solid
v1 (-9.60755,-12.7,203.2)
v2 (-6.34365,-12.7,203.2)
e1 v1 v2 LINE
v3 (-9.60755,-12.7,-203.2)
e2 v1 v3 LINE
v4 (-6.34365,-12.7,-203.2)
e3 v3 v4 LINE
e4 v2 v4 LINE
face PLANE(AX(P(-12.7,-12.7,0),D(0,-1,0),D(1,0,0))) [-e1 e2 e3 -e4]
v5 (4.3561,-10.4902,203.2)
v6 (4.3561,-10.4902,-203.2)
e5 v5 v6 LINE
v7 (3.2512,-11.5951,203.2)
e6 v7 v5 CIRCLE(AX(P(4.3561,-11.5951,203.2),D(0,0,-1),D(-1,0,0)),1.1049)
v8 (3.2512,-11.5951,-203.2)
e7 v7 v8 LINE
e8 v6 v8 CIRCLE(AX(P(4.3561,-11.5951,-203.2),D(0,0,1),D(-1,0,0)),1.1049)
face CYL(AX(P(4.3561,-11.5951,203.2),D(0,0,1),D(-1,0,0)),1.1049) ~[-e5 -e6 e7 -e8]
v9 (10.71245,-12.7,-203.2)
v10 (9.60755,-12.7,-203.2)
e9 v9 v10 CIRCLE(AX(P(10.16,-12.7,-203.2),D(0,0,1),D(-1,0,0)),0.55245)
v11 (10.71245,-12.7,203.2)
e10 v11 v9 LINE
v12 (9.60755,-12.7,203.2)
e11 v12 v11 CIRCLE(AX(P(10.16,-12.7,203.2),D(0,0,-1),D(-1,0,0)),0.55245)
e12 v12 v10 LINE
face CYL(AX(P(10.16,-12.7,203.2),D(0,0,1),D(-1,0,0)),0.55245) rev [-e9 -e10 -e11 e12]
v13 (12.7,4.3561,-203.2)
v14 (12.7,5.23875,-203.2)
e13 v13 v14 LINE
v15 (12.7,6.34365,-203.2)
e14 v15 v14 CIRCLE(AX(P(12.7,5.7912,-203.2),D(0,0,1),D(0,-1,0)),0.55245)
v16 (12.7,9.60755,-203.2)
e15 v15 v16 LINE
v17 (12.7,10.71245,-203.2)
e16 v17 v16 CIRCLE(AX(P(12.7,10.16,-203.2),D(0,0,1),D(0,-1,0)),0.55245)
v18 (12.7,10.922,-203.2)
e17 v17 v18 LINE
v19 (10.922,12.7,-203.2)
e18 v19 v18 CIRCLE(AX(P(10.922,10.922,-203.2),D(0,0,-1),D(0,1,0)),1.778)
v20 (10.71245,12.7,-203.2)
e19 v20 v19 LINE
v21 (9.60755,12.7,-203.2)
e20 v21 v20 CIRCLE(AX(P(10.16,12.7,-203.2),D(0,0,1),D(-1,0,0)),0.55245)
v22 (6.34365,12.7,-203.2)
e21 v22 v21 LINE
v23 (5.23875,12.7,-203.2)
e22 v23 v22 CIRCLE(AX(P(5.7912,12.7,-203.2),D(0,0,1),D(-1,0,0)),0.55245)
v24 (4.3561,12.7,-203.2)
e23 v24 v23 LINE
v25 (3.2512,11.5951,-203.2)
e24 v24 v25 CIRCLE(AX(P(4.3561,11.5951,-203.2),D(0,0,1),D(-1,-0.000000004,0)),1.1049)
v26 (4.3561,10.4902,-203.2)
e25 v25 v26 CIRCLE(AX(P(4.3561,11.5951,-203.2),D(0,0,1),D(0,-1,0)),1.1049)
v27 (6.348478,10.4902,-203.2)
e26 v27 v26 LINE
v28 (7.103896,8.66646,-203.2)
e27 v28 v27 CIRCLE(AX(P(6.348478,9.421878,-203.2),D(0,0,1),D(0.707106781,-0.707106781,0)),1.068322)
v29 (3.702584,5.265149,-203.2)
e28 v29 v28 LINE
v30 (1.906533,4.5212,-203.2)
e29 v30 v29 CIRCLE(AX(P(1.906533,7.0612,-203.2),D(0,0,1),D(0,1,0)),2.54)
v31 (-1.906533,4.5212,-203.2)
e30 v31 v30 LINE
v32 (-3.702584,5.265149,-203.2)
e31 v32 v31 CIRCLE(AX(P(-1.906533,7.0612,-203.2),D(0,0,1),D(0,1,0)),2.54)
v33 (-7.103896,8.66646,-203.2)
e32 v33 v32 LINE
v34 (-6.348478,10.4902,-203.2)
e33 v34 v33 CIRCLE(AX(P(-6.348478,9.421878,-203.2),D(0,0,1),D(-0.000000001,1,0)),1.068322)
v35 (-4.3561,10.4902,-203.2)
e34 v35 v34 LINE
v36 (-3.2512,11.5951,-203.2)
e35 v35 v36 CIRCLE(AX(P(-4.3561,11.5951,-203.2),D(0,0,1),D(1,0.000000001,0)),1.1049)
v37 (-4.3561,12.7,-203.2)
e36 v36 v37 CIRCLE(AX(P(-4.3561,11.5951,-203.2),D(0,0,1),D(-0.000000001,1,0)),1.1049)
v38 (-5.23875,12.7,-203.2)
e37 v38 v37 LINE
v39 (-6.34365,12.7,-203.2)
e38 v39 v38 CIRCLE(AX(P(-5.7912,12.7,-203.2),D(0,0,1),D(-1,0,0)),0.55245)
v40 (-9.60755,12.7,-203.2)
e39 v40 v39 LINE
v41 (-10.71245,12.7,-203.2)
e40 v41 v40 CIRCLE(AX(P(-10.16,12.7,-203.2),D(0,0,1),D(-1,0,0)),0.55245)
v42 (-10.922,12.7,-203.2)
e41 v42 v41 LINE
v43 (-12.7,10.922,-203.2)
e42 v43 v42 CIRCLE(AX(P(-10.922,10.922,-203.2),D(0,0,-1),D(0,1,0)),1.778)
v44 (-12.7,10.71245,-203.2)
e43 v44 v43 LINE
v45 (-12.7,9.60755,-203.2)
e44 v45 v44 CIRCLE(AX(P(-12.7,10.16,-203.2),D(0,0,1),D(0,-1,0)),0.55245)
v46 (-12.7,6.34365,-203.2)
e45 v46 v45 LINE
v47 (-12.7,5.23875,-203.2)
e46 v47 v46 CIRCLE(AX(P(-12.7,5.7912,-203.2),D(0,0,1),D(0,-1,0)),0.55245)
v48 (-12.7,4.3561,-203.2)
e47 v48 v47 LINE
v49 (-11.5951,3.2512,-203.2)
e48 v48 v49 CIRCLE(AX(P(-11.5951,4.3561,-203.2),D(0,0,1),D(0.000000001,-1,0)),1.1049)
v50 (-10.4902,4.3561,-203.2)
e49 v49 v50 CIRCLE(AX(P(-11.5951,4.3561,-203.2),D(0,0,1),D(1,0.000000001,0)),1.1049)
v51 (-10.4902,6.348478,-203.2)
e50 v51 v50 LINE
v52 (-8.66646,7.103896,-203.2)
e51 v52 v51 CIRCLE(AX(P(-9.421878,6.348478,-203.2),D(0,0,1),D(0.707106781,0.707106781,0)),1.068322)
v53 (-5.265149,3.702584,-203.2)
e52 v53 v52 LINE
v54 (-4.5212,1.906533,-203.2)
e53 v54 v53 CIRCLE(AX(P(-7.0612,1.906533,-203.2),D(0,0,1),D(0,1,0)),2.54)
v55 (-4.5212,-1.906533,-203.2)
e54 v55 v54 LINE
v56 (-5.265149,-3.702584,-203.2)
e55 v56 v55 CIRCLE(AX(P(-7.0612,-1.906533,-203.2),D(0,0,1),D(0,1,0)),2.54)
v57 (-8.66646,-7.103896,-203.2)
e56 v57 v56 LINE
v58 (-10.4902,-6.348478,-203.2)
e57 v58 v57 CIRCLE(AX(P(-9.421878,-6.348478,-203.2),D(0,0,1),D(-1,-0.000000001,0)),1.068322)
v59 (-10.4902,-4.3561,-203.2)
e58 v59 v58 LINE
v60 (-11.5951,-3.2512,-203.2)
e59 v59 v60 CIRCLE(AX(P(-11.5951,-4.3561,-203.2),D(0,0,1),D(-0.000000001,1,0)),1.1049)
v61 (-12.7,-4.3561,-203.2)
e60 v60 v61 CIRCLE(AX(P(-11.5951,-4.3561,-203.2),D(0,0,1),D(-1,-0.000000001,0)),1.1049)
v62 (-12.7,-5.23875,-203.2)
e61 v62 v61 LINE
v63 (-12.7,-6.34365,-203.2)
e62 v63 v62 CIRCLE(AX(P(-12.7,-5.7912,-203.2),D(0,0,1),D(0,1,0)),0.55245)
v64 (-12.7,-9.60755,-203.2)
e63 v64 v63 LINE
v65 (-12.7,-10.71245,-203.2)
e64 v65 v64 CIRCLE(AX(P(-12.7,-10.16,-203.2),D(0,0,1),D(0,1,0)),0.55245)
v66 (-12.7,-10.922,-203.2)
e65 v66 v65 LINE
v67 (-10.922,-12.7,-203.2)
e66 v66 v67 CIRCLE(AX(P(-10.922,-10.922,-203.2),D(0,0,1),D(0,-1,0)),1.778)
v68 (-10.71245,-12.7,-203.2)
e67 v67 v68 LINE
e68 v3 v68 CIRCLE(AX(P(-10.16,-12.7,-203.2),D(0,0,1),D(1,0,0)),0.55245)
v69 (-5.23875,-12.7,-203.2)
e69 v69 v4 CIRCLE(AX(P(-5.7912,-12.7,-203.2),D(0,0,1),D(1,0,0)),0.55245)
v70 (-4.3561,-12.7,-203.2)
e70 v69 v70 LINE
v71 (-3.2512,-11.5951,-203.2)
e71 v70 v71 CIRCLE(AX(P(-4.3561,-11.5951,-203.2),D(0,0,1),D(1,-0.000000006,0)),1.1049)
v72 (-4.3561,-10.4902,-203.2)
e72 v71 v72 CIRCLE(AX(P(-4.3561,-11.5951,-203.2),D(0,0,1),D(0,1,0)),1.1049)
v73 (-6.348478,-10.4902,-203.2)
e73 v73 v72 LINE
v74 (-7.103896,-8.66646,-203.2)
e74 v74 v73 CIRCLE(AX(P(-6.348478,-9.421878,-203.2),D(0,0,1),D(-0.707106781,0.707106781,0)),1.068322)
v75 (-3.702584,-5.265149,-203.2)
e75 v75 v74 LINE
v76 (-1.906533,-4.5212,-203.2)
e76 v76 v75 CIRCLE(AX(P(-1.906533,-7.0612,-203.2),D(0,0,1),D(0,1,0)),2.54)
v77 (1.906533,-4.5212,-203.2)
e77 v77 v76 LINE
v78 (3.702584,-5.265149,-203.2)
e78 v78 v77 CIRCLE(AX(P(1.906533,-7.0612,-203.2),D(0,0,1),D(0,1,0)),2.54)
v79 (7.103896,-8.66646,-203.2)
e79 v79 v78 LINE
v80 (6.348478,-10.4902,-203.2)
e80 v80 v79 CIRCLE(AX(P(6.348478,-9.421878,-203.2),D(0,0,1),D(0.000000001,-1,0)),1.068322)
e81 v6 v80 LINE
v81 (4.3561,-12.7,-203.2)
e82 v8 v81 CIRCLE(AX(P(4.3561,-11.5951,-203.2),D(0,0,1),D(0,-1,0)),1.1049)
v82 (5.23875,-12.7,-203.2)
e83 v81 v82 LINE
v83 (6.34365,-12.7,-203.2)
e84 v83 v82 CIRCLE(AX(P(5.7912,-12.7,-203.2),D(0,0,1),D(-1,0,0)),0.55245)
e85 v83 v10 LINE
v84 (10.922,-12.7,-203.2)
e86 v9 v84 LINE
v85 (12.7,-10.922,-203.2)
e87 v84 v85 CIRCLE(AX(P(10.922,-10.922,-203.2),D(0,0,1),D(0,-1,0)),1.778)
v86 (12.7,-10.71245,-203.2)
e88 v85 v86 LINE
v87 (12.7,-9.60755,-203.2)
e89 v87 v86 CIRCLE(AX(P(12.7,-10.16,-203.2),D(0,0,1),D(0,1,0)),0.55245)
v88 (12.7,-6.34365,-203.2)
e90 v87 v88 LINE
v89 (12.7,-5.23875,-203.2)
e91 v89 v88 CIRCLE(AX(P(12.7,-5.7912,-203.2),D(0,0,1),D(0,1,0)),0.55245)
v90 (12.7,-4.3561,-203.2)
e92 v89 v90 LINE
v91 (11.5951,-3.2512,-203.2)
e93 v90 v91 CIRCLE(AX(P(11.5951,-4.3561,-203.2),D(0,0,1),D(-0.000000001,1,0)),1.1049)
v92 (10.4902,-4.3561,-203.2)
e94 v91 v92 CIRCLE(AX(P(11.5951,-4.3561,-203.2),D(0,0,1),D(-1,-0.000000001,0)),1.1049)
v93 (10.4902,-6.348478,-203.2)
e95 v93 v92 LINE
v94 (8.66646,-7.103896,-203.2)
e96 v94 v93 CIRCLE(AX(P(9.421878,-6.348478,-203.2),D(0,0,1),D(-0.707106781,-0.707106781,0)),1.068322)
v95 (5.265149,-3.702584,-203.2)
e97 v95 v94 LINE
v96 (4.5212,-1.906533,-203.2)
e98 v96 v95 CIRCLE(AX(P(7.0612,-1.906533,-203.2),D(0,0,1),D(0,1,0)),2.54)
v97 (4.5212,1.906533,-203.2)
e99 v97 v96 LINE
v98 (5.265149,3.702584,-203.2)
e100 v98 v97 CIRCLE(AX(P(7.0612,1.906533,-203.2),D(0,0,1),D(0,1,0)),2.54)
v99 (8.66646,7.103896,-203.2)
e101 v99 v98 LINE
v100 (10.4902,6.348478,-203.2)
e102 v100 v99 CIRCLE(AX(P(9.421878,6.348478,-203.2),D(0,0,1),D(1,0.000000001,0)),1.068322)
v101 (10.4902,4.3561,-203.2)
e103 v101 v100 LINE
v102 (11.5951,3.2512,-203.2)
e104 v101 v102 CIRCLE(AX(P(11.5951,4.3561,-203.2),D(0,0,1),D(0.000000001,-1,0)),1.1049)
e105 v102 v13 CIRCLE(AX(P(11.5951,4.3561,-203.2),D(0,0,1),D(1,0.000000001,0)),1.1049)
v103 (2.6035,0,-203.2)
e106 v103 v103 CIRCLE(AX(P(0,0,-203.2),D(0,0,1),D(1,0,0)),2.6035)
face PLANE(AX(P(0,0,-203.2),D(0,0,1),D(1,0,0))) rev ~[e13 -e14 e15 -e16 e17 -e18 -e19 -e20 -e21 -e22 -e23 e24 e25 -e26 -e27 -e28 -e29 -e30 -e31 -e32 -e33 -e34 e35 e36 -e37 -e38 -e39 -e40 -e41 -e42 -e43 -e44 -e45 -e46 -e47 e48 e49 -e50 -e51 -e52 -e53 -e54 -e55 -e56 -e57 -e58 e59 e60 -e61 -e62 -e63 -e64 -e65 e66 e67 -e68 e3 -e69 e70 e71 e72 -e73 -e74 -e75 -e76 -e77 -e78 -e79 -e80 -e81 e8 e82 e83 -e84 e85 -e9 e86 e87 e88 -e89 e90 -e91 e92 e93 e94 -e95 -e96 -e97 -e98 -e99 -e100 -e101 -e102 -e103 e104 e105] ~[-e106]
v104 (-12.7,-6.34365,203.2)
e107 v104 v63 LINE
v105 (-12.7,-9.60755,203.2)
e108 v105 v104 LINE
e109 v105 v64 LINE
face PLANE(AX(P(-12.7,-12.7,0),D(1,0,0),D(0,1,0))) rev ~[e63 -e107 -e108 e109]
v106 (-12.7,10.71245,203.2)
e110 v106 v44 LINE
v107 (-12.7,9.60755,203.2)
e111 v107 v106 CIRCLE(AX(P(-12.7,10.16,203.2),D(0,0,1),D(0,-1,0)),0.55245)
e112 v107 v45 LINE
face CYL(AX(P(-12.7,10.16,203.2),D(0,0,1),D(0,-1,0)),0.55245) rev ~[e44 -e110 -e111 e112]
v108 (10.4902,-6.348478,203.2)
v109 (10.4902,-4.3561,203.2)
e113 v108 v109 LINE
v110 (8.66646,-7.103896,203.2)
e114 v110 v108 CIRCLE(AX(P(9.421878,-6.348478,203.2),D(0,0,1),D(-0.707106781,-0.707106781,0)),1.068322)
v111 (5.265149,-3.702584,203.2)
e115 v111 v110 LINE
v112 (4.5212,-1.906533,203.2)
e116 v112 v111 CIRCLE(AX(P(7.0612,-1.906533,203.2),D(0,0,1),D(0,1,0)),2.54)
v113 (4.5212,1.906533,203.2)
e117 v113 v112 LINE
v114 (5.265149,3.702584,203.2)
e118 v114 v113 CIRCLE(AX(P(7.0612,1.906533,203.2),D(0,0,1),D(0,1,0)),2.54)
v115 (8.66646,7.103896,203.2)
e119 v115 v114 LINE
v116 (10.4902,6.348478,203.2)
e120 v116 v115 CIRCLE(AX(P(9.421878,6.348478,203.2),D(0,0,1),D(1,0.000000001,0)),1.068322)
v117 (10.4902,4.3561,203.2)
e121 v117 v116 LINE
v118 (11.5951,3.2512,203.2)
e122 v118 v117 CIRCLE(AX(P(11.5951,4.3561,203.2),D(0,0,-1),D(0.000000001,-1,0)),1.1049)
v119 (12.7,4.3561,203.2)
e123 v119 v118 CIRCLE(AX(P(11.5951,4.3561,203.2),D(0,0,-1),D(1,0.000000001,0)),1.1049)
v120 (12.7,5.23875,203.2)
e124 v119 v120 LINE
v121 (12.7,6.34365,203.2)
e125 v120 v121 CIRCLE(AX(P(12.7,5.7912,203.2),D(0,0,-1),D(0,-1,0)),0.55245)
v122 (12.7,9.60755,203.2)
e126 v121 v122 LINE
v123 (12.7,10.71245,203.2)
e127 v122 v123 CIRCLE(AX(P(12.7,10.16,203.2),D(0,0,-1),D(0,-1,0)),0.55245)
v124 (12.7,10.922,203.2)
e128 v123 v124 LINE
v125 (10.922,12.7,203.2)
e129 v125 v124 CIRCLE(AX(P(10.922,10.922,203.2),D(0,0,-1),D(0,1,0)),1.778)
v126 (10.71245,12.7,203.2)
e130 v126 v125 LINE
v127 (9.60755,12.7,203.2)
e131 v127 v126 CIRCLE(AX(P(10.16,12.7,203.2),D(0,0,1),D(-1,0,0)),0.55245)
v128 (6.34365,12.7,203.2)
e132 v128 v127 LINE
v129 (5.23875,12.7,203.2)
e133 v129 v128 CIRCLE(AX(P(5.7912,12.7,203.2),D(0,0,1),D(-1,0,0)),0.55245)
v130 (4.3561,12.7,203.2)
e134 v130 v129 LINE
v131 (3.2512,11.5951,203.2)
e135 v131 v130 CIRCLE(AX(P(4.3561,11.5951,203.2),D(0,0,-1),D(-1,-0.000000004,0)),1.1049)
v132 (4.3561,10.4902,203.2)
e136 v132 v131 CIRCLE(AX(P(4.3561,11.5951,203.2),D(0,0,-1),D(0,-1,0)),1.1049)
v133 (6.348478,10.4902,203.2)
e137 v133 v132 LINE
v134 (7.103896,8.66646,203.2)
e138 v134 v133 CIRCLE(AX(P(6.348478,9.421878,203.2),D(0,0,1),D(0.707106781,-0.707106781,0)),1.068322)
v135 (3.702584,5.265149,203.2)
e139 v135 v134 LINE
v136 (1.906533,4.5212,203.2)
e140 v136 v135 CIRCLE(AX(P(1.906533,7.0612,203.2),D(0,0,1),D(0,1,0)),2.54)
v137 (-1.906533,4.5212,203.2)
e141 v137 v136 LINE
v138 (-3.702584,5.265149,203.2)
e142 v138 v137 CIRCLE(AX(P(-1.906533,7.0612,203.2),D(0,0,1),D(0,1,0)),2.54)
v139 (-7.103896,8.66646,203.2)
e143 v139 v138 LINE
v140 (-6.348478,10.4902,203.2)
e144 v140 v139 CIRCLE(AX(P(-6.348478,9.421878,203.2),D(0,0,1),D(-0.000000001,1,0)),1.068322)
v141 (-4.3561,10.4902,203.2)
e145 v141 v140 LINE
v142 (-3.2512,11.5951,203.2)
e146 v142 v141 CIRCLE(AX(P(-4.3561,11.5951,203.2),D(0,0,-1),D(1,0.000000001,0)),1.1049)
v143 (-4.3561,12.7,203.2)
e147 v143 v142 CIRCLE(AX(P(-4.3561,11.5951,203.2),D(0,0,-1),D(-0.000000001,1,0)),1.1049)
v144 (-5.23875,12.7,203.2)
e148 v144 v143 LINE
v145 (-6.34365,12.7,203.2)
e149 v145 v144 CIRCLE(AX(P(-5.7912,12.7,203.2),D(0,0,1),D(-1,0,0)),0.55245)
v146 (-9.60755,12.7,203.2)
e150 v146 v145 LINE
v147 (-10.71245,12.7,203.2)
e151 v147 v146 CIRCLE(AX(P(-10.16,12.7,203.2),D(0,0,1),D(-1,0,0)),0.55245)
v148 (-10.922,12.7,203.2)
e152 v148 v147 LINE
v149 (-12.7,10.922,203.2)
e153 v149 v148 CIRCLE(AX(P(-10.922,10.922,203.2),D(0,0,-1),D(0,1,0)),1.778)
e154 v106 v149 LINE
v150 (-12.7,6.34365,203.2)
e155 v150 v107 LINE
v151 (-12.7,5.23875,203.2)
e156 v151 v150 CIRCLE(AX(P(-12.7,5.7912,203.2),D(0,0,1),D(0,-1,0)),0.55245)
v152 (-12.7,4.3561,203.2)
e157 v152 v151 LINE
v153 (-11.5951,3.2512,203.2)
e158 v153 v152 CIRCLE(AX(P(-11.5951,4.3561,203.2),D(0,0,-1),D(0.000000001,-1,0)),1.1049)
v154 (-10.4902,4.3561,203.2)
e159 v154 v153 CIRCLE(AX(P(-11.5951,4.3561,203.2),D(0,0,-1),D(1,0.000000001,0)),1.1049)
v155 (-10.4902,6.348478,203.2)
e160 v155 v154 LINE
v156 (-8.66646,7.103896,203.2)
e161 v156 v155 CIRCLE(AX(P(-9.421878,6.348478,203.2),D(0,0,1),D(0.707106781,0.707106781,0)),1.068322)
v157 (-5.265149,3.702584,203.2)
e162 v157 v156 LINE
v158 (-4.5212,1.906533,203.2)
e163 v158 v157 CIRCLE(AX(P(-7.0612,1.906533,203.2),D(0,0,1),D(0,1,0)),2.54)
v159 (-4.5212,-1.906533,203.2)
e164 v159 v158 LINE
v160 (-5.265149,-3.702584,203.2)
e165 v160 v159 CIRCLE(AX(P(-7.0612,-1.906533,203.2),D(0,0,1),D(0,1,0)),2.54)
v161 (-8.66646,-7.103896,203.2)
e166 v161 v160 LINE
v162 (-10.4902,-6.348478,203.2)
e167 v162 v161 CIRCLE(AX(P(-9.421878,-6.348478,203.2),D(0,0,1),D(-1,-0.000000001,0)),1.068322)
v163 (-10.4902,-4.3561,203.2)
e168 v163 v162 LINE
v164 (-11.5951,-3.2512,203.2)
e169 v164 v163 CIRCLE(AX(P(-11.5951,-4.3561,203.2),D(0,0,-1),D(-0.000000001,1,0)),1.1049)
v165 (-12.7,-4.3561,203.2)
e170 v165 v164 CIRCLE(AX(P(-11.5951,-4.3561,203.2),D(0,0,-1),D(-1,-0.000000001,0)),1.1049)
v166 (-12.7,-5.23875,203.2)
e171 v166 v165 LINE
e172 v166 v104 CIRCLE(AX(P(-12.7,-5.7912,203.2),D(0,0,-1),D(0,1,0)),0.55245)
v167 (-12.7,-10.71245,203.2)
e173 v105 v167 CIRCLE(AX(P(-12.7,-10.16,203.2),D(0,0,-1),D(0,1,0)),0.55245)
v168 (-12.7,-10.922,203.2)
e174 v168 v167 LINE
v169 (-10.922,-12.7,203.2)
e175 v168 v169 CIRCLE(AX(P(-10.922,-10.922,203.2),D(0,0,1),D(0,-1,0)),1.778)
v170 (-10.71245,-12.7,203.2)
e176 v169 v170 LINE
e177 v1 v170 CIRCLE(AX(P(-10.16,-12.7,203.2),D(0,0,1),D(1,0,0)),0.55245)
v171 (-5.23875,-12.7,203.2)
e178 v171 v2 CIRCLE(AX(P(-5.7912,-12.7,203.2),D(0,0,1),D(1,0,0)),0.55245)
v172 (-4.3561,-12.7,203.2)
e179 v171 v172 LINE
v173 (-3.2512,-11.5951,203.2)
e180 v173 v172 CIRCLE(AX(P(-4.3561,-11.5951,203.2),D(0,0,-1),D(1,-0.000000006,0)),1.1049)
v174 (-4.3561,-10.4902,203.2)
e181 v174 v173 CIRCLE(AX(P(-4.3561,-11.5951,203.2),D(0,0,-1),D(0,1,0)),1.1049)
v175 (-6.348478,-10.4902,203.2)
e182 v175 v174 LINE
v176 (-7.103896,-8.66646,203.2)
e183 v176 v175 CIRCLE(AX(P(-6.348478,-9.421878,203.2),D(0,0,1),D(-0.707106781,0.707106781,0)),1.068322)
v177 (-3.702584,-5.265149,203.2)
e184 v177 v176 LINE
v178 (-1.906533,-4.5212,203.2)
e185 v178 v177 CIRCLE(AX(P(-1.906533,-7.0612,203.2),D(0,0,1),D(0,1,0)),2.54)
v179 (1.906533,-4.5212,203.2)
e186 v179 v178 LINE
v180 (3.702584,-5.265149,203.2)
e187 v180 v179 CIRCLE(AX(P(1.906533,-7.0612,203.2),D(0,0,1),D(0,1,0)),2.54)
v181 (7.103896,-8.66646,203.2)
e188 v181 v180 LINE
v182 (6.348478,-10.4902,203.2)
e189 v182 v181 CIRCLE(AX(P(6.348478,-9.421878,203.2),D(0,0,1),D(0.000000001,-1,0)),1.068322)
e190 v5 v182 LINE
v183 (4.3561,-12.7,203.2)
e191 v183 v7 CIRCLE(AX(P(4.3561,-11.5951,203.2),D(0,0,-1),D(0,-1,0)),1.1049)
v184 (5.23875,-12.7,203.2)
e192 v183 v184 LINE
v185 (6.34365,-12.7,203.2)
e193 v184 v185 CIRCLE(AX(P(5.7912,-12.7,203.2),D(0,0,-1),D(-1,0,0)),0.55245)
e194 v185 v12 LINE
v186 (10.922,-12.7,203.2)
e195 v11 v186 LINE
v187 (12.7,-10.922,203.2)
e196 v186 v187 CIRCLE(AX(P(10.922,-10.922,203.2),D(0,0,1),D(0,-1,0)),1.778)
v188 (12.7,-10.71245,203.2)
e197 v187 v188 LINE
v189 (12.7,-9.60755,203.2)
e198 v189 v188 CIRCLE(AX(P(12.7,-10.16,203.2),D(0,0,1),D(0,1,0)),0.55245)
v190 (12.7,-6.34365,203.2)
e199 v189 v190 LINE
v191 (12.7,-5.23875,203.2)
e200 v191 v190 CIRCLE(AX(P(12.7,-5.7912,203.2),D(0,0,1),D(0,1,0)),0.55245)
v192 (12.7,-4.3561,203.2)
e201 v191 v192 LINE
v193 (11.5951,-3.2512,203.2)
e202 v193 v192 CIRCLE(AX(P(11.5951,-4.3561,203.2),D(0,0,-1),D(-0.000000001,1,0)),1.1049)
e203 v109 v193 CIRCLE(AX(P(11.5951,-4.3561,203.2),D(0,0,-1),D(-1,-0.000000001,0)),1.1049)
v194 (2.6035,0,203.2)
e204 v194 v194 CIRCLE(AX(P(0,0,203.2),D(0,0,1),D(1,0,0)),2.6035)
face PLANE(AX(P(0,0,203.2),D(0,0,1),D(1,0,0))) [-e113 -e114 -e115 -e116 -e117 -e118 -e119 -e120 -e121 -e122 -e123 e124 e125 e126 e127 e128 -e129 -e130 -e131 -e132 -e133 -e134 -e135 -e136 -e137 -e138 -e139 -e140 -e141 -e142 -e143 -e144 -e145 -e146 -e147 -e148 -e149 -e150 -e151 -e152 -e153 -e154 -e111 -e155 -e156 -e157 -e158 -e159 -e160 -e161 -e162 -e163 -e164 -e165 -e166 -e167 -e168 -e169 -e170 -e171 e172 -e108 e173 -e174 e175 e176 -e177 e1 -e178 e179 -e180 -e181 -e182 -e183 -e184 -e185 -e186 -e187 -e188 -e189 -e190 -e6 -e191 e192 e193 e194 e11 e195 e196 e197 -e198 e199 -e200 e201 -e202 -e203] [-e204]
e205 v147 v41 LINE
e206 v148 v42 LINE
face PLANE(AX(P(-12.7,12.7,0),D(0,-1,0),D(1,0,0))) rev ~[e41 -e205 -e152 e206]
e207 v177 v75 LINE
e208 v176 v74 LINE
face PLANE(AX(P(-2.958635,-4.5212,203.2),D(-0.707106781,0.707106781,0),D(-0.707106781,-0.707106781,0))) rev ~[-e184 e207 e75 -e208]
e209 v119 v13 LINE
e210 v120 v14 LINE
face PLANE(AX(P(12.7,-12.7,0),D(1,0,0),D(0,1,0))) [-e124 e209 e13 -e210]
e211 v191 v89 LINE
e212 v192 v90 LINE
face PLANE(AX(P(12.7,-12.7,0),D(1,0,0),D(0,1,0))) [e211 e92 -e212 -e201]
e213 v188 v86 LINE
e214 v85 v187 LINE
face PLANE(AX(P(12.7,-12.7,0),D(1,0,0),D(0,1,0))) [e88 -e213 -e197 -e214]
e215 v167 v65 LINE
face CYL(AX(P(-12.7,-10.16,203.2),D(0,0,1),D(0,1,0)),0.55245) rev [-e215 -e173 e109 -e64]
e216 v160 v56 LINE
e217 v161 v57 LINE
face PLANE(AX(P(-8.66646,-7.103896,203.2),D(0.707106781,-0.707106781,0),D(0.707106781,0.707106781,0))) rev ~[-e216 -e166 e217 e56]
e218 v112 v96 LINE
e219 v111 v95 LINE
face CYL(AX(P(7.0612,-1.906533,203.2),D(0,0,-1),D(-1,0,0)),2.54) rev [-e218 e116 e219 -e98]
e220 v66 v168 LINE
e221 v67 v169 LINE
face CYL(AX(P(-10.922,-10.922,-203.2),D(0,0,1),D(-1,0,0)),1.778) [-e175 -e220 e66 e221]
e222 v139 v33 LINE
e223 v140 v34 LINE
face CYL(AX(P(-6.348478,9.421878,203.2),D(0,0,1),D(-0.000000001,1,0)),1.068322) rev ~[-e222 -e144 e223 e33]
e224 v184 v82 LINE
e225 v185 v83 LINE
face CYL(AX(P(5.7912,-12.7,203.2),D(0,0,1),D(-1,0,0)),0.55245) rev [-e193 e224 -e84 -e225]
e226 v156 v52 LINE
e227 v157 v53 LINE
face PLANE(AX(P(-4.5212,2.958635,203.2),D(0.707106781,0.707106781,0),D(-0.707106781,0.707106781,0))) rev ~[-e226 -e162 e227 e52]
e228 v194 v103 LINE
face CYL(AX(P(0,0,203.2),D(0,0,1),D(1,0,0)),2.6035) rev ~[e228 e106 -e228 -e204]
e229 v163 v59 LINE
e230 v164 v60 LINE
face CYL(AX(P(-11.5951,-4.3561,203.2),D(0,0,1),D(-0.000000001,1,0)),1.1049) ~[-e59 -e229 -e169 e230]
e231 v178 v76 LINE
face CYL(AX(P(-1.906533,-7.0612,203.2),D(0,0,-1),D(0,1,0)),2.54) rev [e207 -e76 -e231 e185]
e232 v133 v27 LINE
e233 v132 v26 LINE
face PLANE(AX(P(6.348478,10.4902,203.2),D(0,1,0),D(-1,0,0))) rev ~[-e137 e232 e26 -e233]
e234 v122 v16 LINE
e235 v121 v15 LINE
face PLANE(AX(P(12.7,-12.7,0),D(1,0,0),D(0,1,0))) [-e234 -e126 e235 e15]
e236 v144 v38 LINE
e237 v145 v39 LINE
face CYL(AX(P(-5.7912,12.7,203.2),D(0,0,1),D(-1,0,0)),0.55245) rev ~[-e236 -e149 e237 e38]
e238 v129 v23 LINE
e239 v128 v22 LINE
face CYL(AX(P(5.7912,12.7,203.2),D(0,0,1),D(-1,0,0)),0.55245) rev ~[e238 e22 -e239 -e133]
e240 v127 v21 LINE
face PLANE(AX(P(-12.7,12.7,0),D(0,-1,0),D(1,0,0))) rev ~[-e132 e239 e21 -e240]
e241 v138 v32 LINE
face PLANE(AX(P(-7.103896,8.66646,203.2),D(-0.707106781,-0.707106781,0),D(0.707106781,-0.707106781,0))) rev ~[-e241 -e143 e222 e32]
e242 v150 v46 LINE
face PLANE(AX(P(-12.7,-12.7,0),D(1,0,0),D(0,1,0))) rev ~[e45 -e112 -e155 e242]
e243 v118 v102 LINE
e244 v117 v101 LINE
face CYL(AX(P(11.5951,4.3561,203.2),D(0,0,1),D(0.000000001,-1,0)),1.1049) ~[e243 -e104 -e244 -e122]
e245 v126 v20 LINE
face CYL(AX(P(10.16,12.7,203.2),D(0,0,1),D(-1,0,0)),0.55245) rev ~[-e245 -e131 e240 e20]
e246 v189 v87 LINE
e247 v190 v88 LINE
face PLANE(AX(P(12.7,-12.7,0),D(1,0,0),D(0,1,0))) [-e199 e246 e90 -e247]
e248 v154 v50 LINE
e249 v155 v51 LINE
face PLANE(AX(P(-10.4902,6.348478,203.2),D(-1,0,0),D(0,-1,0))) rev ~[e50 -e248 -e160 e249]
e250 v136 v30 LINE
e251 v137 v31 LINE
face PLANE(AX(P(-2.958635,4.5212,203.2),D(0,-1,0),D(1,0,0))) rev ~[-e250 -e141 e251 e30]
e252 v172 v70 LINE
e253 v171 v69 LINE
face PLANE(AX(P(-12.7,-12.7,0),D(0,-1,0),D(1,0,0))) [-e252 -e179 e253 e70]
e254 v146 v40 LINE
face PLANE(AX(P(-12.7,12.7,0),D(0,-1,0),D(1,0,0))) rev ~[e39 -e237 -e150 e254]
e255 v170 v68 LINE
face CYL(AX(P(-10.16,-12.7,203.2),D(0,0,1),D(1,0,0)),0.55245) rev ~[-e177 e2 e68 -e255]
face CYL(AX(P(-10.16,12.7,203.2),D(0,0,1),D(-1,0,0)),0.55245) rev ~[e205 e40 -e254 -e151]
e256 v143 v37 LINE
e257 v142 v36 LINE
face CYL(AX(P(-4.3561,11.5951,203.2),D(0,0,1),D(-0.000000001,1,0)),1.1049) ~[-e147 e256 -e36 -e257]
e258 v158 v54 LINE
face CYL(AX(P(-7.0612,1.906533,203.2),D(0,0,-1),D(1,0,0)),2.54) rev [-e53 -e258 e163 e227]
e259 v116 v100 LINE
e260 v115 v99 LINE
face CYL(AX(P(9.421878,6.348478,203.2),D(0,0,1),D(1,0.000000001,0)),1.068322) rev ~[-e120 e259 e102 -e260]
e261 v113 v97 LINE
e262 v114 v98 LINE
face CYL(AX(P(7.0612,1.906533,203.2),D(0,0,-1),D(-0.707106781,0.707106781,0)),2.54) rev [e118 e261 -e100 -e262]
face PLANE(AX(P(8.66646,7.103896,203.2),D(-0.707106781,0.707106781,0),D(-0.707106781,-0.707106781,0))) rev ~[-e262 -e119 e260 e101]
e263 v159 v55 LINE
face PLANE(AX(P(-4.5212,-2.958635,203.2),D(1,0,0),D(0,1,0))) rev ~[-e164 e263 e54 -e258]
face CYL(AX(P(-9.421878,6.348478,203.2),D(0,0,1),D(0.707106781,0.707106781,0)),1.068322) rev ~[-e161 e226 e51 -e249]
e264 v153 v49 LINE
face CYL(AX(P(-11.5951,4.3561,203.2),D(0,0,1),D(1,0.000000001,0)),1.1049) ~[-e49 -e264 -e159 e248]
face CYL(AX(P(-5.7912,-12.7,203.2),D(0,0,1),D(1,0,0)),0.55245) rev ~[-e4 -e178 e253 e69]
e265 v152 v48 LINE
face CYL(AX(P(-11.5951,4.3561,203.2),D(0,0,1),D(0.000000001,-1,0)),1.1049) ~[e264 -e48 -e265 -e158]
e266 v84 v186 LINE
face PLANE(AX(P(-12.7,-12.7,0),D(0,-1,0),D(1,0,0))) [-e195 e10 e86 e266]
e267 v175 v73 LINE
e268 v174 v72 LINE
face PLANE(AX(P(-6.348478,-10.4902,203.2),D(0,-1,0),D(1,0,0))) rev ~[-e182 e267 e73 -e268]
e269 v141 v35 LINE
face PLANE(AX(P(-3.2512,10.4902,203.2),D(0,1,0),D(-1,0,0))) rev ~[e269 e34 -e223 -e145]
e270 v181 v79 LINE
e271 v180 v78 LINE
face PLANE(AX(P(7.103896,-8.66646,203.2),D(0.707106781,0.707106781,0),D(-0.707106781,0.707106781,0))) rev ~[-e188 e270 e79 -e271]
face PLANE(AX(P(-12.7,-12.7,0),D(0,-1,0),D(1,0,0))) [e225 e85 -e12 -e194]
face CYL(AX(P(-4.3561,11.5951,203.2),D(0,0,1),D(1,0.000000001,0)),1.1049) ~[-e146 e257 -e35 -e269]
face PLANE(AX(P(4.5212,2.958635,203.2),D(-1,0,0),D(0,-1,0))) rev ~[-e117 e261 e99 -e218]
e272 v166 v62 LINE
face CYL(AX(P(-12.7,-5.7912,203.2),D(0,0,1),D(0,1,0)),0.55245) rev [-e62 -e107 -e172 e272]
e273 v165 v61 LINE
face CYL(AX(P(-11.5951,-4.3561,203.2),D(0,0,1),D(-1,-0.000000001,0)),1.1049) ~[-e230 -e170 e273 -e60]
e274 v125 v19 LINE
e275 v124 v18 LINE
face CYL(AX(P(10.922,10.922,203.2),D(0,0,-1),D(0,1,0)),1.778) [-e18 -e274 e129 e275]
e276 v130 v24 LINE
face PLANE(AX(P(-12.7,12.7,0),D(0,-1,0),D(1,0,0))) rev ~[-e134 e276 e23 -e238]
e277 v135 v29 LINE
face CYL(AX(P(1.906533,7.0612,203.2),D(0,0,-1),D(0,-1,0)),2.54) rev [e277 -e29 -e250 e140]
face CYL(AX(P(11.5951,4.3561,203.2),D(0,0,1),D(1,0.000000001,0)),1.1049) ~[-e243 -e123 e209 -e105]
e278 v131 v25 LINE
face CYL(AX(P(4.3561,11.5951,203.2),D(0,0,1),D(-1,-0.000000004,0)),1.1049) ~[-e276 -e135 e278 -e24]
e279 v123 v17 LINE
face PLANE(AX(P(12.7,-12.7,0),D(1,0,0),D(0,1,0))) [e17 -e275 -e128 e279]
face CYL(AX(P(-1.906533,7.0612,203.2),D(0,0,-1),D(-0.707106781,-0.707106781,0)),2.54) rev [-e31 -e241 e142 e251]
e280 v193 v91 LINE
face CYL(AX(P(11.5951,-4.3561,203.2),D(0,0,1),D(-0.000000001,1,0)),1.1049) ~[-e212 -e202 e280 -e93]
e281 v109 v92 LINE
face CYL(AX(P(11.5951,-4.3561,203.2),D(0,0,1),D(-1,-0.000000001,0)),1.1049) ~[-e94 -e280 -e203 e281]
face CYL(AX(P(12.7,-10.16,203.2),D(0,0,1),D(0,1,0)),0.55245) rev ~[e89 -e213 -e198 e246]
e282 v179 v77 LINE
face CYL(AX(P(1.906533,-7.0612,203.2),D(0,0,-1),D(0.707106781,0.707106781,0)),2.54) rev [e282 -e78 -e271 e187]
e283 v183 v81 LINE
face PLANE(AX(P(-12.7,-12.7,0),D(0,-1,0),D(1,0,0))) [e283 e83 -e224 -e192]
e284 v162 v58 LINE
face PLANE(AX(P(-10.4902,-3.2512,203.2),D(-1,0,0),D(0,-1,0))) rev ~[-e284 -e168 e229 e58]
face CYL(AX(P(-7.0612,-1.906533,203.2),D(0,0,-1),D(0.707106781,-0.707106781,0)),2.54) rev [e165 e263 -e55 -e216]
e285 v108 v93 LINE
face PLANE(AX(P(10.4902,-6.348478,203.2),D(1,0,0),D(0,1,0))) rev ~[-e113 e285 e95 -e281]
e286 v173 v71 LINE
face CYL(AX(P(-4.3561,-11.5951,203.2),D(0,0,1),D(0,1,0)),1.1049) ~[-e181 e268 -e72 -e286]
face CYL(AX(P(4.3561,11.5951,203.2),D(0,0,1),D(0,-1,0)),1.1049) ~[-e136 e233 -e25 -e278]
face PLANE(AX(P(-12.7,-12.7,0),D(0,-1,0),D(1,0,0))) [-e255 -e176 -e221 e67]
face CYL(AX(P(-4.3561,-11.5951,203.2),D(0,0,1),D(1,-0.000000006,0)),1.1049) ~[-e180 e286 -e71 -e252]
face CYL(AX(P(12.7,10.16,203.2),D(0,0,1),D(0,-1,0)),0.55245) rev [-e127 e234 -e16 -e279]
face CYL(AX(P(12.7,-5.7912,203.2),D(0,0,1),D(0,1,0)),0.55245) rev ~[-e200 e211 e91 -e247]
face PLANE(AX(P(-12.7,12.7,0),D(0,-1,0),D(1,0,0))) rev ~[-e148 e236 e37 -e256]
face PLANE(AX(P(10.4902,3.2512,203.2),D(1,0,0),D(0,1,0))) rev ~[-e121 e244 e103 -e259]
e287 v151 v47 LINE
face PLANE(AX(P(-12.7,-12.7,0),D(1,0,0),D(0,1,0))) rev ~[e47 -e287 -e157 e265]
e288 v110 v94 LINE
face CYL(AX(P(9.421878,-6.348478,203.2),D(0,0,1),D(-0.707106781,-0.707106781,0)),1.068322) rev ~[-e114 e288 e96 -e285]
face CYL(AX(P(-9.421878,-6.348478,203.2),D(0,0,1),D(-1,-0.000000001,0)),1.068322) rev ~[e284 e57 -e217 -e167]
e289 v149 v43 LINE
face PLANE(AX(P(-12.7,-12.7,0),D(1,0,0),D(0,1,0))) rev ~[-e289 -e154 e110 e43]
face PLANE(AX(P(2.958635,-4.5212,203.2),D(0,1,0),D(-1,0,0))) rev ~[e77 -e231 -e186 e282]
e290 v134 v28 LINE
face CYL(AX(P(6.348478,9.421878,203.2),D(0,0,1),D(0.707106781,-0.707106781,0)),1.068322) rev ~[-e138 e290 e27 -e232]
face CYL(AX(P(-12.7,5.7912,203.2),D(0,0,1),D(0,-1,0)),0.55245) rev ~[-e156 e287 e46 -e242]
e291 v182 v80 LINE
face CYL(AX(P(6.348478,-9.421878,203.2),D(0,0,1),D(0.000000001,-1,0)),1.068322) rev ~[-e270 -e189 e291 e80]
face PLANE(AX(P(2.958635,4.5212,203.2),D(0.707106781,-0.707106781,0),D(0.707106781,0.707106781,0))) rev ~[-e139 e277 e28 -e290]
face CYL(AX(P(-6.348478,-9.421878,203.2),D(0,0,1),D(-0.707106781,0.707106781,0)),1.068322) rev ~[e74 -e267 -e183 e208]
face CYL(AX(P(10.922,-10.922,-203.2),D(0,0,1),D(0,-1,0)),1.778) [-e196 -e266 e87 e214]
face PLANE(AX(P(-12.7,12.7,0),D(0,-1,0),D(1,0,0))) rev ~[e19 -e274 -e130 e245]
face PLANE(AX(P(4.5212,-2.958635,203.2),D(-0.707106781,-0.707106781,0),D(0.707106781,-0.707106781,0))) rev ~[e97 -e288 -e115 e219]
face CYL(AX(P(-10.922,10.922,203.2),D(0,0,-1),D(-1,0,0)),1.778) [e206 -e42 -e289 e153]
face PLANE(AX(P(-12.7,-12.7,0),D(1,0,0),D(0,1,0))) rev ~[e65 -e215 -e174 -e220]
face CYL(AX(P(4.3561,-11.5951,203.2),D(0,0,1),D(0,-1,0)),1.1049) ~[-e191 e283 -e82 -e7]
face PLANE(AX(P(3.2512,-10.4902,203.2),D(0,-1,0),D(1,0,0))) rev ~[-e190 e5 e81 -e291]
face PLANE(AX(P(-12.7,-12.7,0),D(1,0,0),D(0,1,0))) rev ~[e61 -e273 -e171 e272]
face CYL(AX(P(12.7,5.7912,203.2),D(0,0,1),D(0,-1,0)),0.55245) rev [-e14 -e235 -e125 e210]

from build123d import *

# Parameters (mm, degrees)
SKETCH3_W                = 25.4
SKETCH3_H                = 25.4
BOSS_EXTRUDE1_DEPTH      = 203.2
BOSS_EXTRUDE1_DEPTH_BACK = 203.2
SKETCH4_R                = 2.6035
CUT_EXTRUDE1_DEPTH       = 407.4
CUT_EXTRUDE2_DEPTH       = 407.4
FILLET1_R                = 2.54
FILLET2_R                = 1.778


with BuildPart() as part:
    # Sketch3 → Boss-Extrude1 (new body, two sides)
    with BuildSketch(Plane.XY) as boss_extrude1_sk:
        Rectangle(SKETCH3_W, SKETCH3_H)
    extrude(amount=BOSS_EXTRUDE1_DEPTH)
    extrude(boss_extrude1_sk.sketch, amount=-BOSS_EXTRUDE1_DEPTH_BACK)

    # Sketch4 → Cut-Extrude1 (cut, through all)
    with BuildSketch(Plane.XY.offset(203.2)):
        with BuildLine():
            Line((3.2512, 12.7), (-3.2512, 12.7))
            Line((-3.2512, 12.7), (-3.2512, 10.4902))
            Line((-3.2512, 10.4902), (-6.348478019, 10.4902))
            ThreePointArc((-6.348478019, 10.4902), (-7.335478831, 9.830707141), (-7.103895736, 8.666460301))
            Line((-7.103895736, 8.666460301), (-2.958635435, 4.5212))
            Line((-2.958635435, 4.5212), (2.958635435, 4.5212))
            Line((2.958635435, 4.5212), (7.103895736, 8.666460301))
            ThreePointArc((7.103895736, 8.666460301), (7.335478831, 9.830707141), (6.348478019, 10.4902))
            Line((6.348478019, 10.4902), (3.2512, 10.4902))
            Line((3.2512, 10.4902), (3.2512, 12.7))
        make_face()
        with BuildLine():
            Line((12.7, -3.2512), (12.7, 3.2512))
            Line((12.7, 3.2512), (10.4902, 3.2512))
            Line((10.4902, 3.2512), (10.4902, 6.348478019))
            ThreePointArc((10.4902, 6.348478019), (9.830707141, 7.335478831), (8.666460301, 7.103895736))
            Line((8.666460301, 7.103895736), (4.5212, 2.958635435))
            Line((4.5212, 2.958635435), (4.5212, -2.958635435))
            Line((4.5212, -2.958635435), (8.666460301, -7.103895736))
            ThreePointArc((8.666460301, -7.103895736), (9.830707141, -7.335478831), (10.4902, -6.348478019))
            Line((10.4902, -6.348478019), (10.4902, -3.2512))
            Line((10.4902, -3.2512), (12.7, -3.2512))
        make_face()
        with BuildLine():
            Line((-3.2512, -10.4902), (-3.2512, -12.7))
            Line((-3.2512, -12.7), (3.2512, -12.7))
            Line((3.2512, -12.7), (3.2512, -10.4902))
            Line((3.2512, -10.4902), (6.348478019, -10.4902))
            ThreePointArc((6.348478019, -10.4902), (7.335478831, -9.830707141), (7.103895736, -8.666460301))
            Line((7.103895736, -8.666460301), (2.958635435, -4.5212))
            Line((2.958635435, -4.5212), (-2.958635435, -4.5212))
            Line((-2.958635435, -4.5212), (-7.103895736, -8.666460301))
            ThreePointArc((-7.103895736, -8.666460301), (-7.335478831, -9.830707141), (-6.348478019, -10.4902))
            Line((-6.348478019, -10.4902), (-3.2512, -10.4902))
        make_face()
        with BuildLine():
            Line((-10.4902, 3.2512), (-12.7, 3.2512))
            Line((-12.7, 3.2512), (-12.7, -3.2512))
            Line((-12.7, -3.2512), (-10.4902, -3.2512))
            Line((-10.4902, -3.2512), (-10.4902, -6.348478019))
            ThreePointArc((-10.4902, -6.348478019), (-9.830707141, -7.335478831), (-8.666460301, -7.103895736))
            Line((-8.666460301, -7.103895736), (-4.5212, -2.958635435))
            Line((-4.5212, -2.958635435), (-4.5212, 2.958635435))
            Line((-4.5212, 2.958635435), (-8.666460301, 7.103895736))
            ThreePointArc((-8.666460301, 7.103895736), (-9.830707141, 7.335478831), (-10.4902, 6.348478019))
            Line((-10.4902, 6.348478019), (-10.4902, 3.2512))
        make_face()
        Circle(SKETCH4_R)
    extrude(amount=-CUT_EXTRUDE1_DEPTH, mode=Mode.SUBTRACT)

    # Sketch5 → Cut-Extrude2 (cut, through all)
    with BuildSketch(Plane.XY.offset(203.2)):
        with BuildLine():
            ThreePointArc((-11.5951, 3.2512), (-12.376382283, 3.574817717), (-12.7, 4.3561))
            Line((-12.7, 4.3561), (-12.7, 3.2512))
            Line((-12.7, 3.2512), (-11.5951, 3.2512))
        make_face()
        with BuildLine():
            ThreePointArc((-10.4902, 4.3561), (-10.813817717, 3.574817717), (-11.5951, 3.2512))
            Line((-11.5951, 3.2512), (-10.4902, 3.2512))
            Line((-10.4902, 3.2512), (-10.4902, 4.3561))
        make_face()
        with BuildLine():
            Line((-12.7, -3.2512), (-12.7, -4.3561))
            ThreePointArc((-12.7, -4.3561), (-12.376382283, -3.574817717), (-11.5951, -3.2512))
            Line((-11.5951, -3.2512), (-12.7, -3.2512))
        make_face()
        with BuildLine():
            Line((-10.4902, -3.2512), (-11.5951, -3.2512))
            ThreePointArc((-11.5951, -3.2512), (-10.813817717, -3.574817717), (-10.4902, -4.3561))
            Line((-10.4902, -4.3561), (-10.4902, -3.2512))
        make_face()
        with BuildLine():
            Line((-3.2512, -11.595100007), (-3.2512, -10.4902))
            Line((-3.2512, -10.4902), (-4.3561, -10.4902))
            ThreePointArc((-4.3561, -10.4902), (-3.574817715, -10.81381772), (-3.2512, -11.595100007))
        make_face()
        with BuildLine():
            Line((-3.2512, -12.7), (-3.2512, -11.595100007))
            ThreePointArc((-3.2512, -11.595100007), (-3.57481772, -12.376382285), (-4.3561, -12.7))
            Line((-4.3561, -12.7), (-3.2512, -12.7))
        make_face()
        with BuildLine():
            Line((3.2512, -10.4902), (3.2512, -11.5951))
            ThreePointArc((3.2512, -11.5951), (3.574817718, -10.813817717), (4.3561, -10.4902))
            Line((4.3561, -10.4902), (3.2512, -10.4902))
        make_face()
        with BuildLine():
            Line((3.2512, -12.7), (4.3561, -12.7))
            ThreePointArc((4.3561, -12.7), (3.574817717, -12.376382282), (3.2512, -11.5951))
            Line((3.2512, -11.5951), (3.2512, -12.7))
        make_face()
        with BuildLine():
            Line((11.5951, -3.2512), (10.4902, -3.2512))
            Line((10.4902, -3.2512), (10.4902, -4.3561))
            ThreePointArc((10.4902, -4.3561), (10.813817717, -3.574817717), (11.5951, -3.2512))
        make_face()
        with BuildLine():
            Line((12.7, -3.2512), (11.5951, -3.2512))
            ThreePointArc((11.5951, -3.2512), (12.376382283, -3.574817717), (12.7, -4.3561))
            Line((12.7, -4.3561), (12.7, -3.2512))
        make_face()
        with BuildLine():
            Line((10.4902, 3.2512), (11.5951, 3.2512))
            ThreePointArc((11.5951, 3.2512), (10.813817717, 3.574817717), (10.4902, 4.3561))
            Line((10.4902, 4.3561), (10.4902, 3.2512))
        make_face()
        with BuildLine():
            Line((12.7, 3.2512), (12.7, 4.3561))
            ThreePointArc((12.7, 4.3561), (12.376382283, 3.574817717), (11.5951, 3.2512))
            Line((11.5951, 3.2512), (12.7, 3.2512))
        make_face()
        with BuildLine():
            Line((3.2512, 12.7), (3.2512, 11.595099996))
            ThreePointArc((3.2512, 11.595099996), (3.574817716, 12.376382281), (4.3561, 12.7))
            Line((4.3561, 12.7), (3.2512, 12.7))
        make_face()
        with BuildLine():
            Line((3.2512, 11.595099996), (3.2512, 10.4902))
            Line((3.2512, 10.4902), (4.3561, 10.4902))
            ThreePointArc((4.3561, 10.4902), (3.574817719, 10.813817716), (3.2512, 11.595099996))
        make_face()
        with BuildLine():
            Line((-3.2512, 12.7), (-4.3561, 12.7))
            ThreePointArc((-4.3561, 12.7), (-3.574817717, 12.376382283), (-3.2512, 11.5951))
            Line((-3.2512, 11.5951), (-3.2512, 12.7))
        make_face()
        with BuildLine():
            Line((-3.2512, 10.4902), (-3.2512, 11.5951))
            ThreePointArc((-3.2512, 11.5951), (-3.574817717, 10.813817717), (-4.3561, 10.4902))
            Line((-4.3561, 10.4902), (-3.2512, 10.4902))
        make_face()
        with BuildLine():
            ThreePointArc((-12.7, 5.23875), (-12.14755, 5.7912), (-12.7, 6.34365))
            Line((-12.7, 6.34365), (-12.7, 5.23875))
        make_face()
        with BuildLine():
            ThreePointArc((-12.7, 9.60755), (-12.14755, 10.16), (-12.7, 10.71245))
            Line((-12.7, 10.71245), (-12.7, 9.60755))
        make_face()
        with BuildLine():
            ThreePointArc((-10.71245, 12.7), (-10.16, 12.14755), (-9.60755, 12.7))
            Line((-9.60755, 12.7), (-10.71245, 12.7))
        make_face()
        with BuildLine():
            ThreePointArc((-6.34365, 12.7), (-5.7912, 12.14755), (-5.23875, 12.7))
            Line((-5.23875, 12.7), (-6.34365, 12.7))
        make_face()
        with BuildLine():
            Line((6.34365, 12.7), (5.23875, 12.7))
            ThreePointArc((5.23875, 12.7), (5.7912, 12.14755), (6.34365, 12.7))
        make_face()
        with BuildLine():
            Line((10.71245, 12.7), (9.60755, 12.7))
            ThreePointArc((9.60755, 12.7), (10.16, 12.14755), (10.71245, 12.7))
        make_face()
        with BuildLine():
            Line((12.7, 10.71245), (12.7, 9.60755))
            ThreePointArc((12.7, 9.60755), (12.14755, 10.16), (12.7, 10.71245))
        make_face()
        with BuildLine():
            Line((12.7, 6.34365), (12.7, 5.23875))
            ThreePointArc((12.7, 5.23875), (12.14755, 5.7912), (12.7, 6.34365))
        make_face()
        with BuildLine():
            Line((-12.7, -6.34365), (-12.7, -5.23875))
            ThreePointArc((-12.7, -5.23875), (-12.14755, -5.7912), (-12.7, -6.34365))
        make_face()
        with BuildLine():
            Line((-12.7, -10.71245), (-12.7, -9.60755))
            ThreePointArc((-12.7, -9.60755), (-12.14755, -10.16), (-12.7, -10.71245))
        make_face()
        with BuildLine():
            Line((-10.71245, -12.7), (-9.60755, -12.7))
            ThreePointArc((-9.60755, -12.7), (-10.16, -12.14755), (-10.71245, -12.7))
        make_face()
        with BuildLine():
            Line((-6.34365, -12.7), (-5.23875, -12.7))
            ThreePointArc((-5.23875, -12.7), (-5.7912, -12.14755), (-6.34365, -12.7))
        make_face()
        with BuildLine():
            Line((12.7, -10.71245), (12.7, -9.60755))
            ThreePointArc((12.7, -9.60755), (12.14755, -10.16), (12.7, -10.71245))
        make_face()
        with BuildLine():
            Line((12.7, -6.34365), (12.7, -5.23875))
            ThreePointArc((12.7, -5.23875), (12.14755, -5.7912), (12.7, -6.34365))
        make_face()
        with BuildLine():
            Line((10.71245, -12.7), (9.60755, -12.7))
            ThreePointArc((9.60755, -12.7), (10.16, -12.14755), (10.71245, -12.7))
        make_face()
        with BuildLine():
            Line((6.34365, -12.7), (5.23875, -12.7))
            ThreePointArc((5.23875, -12.7), (5.7912, -12.14755), (6.34365, -12.7))
        make_face()
    extrude(amount=-CUT_EXTRUDE2_DEPTH, mode=Mode.SUBTRACT)

    # Fillet1
    fillet1_edges = [part.edges().sort_by_distance(p)[0] for p in [
        (2.958635435, 4.5212, 0),
        (-2.958635435, 4.5212, 0),
        (-2.958635435, -4.5212, 0),
        (2.958635435, -4.5212, 0),
        (4.5212, -2.958635435, 0),
        (4.5212, 2.958635435, 0),
        (-4.5212, 2.958635435, 0),
        (-4.5212, -2.958635435, 0),
    ]]
    fillet(fillet1_edges, radius=FILLET1_R)

    # Fillet2
    fillet2_edges = [part.edges().sort_by_distance(p)[0] for p in [
        (-12.7, 12.7, 0),
        (12.7, 12.7, 0),
        (12.7, -12.7, 0),
        (-12.7, -12.7, 0),
    ]]
    fillet(fillet2_edges, radius=FILLET2_R)


solid = part.part
